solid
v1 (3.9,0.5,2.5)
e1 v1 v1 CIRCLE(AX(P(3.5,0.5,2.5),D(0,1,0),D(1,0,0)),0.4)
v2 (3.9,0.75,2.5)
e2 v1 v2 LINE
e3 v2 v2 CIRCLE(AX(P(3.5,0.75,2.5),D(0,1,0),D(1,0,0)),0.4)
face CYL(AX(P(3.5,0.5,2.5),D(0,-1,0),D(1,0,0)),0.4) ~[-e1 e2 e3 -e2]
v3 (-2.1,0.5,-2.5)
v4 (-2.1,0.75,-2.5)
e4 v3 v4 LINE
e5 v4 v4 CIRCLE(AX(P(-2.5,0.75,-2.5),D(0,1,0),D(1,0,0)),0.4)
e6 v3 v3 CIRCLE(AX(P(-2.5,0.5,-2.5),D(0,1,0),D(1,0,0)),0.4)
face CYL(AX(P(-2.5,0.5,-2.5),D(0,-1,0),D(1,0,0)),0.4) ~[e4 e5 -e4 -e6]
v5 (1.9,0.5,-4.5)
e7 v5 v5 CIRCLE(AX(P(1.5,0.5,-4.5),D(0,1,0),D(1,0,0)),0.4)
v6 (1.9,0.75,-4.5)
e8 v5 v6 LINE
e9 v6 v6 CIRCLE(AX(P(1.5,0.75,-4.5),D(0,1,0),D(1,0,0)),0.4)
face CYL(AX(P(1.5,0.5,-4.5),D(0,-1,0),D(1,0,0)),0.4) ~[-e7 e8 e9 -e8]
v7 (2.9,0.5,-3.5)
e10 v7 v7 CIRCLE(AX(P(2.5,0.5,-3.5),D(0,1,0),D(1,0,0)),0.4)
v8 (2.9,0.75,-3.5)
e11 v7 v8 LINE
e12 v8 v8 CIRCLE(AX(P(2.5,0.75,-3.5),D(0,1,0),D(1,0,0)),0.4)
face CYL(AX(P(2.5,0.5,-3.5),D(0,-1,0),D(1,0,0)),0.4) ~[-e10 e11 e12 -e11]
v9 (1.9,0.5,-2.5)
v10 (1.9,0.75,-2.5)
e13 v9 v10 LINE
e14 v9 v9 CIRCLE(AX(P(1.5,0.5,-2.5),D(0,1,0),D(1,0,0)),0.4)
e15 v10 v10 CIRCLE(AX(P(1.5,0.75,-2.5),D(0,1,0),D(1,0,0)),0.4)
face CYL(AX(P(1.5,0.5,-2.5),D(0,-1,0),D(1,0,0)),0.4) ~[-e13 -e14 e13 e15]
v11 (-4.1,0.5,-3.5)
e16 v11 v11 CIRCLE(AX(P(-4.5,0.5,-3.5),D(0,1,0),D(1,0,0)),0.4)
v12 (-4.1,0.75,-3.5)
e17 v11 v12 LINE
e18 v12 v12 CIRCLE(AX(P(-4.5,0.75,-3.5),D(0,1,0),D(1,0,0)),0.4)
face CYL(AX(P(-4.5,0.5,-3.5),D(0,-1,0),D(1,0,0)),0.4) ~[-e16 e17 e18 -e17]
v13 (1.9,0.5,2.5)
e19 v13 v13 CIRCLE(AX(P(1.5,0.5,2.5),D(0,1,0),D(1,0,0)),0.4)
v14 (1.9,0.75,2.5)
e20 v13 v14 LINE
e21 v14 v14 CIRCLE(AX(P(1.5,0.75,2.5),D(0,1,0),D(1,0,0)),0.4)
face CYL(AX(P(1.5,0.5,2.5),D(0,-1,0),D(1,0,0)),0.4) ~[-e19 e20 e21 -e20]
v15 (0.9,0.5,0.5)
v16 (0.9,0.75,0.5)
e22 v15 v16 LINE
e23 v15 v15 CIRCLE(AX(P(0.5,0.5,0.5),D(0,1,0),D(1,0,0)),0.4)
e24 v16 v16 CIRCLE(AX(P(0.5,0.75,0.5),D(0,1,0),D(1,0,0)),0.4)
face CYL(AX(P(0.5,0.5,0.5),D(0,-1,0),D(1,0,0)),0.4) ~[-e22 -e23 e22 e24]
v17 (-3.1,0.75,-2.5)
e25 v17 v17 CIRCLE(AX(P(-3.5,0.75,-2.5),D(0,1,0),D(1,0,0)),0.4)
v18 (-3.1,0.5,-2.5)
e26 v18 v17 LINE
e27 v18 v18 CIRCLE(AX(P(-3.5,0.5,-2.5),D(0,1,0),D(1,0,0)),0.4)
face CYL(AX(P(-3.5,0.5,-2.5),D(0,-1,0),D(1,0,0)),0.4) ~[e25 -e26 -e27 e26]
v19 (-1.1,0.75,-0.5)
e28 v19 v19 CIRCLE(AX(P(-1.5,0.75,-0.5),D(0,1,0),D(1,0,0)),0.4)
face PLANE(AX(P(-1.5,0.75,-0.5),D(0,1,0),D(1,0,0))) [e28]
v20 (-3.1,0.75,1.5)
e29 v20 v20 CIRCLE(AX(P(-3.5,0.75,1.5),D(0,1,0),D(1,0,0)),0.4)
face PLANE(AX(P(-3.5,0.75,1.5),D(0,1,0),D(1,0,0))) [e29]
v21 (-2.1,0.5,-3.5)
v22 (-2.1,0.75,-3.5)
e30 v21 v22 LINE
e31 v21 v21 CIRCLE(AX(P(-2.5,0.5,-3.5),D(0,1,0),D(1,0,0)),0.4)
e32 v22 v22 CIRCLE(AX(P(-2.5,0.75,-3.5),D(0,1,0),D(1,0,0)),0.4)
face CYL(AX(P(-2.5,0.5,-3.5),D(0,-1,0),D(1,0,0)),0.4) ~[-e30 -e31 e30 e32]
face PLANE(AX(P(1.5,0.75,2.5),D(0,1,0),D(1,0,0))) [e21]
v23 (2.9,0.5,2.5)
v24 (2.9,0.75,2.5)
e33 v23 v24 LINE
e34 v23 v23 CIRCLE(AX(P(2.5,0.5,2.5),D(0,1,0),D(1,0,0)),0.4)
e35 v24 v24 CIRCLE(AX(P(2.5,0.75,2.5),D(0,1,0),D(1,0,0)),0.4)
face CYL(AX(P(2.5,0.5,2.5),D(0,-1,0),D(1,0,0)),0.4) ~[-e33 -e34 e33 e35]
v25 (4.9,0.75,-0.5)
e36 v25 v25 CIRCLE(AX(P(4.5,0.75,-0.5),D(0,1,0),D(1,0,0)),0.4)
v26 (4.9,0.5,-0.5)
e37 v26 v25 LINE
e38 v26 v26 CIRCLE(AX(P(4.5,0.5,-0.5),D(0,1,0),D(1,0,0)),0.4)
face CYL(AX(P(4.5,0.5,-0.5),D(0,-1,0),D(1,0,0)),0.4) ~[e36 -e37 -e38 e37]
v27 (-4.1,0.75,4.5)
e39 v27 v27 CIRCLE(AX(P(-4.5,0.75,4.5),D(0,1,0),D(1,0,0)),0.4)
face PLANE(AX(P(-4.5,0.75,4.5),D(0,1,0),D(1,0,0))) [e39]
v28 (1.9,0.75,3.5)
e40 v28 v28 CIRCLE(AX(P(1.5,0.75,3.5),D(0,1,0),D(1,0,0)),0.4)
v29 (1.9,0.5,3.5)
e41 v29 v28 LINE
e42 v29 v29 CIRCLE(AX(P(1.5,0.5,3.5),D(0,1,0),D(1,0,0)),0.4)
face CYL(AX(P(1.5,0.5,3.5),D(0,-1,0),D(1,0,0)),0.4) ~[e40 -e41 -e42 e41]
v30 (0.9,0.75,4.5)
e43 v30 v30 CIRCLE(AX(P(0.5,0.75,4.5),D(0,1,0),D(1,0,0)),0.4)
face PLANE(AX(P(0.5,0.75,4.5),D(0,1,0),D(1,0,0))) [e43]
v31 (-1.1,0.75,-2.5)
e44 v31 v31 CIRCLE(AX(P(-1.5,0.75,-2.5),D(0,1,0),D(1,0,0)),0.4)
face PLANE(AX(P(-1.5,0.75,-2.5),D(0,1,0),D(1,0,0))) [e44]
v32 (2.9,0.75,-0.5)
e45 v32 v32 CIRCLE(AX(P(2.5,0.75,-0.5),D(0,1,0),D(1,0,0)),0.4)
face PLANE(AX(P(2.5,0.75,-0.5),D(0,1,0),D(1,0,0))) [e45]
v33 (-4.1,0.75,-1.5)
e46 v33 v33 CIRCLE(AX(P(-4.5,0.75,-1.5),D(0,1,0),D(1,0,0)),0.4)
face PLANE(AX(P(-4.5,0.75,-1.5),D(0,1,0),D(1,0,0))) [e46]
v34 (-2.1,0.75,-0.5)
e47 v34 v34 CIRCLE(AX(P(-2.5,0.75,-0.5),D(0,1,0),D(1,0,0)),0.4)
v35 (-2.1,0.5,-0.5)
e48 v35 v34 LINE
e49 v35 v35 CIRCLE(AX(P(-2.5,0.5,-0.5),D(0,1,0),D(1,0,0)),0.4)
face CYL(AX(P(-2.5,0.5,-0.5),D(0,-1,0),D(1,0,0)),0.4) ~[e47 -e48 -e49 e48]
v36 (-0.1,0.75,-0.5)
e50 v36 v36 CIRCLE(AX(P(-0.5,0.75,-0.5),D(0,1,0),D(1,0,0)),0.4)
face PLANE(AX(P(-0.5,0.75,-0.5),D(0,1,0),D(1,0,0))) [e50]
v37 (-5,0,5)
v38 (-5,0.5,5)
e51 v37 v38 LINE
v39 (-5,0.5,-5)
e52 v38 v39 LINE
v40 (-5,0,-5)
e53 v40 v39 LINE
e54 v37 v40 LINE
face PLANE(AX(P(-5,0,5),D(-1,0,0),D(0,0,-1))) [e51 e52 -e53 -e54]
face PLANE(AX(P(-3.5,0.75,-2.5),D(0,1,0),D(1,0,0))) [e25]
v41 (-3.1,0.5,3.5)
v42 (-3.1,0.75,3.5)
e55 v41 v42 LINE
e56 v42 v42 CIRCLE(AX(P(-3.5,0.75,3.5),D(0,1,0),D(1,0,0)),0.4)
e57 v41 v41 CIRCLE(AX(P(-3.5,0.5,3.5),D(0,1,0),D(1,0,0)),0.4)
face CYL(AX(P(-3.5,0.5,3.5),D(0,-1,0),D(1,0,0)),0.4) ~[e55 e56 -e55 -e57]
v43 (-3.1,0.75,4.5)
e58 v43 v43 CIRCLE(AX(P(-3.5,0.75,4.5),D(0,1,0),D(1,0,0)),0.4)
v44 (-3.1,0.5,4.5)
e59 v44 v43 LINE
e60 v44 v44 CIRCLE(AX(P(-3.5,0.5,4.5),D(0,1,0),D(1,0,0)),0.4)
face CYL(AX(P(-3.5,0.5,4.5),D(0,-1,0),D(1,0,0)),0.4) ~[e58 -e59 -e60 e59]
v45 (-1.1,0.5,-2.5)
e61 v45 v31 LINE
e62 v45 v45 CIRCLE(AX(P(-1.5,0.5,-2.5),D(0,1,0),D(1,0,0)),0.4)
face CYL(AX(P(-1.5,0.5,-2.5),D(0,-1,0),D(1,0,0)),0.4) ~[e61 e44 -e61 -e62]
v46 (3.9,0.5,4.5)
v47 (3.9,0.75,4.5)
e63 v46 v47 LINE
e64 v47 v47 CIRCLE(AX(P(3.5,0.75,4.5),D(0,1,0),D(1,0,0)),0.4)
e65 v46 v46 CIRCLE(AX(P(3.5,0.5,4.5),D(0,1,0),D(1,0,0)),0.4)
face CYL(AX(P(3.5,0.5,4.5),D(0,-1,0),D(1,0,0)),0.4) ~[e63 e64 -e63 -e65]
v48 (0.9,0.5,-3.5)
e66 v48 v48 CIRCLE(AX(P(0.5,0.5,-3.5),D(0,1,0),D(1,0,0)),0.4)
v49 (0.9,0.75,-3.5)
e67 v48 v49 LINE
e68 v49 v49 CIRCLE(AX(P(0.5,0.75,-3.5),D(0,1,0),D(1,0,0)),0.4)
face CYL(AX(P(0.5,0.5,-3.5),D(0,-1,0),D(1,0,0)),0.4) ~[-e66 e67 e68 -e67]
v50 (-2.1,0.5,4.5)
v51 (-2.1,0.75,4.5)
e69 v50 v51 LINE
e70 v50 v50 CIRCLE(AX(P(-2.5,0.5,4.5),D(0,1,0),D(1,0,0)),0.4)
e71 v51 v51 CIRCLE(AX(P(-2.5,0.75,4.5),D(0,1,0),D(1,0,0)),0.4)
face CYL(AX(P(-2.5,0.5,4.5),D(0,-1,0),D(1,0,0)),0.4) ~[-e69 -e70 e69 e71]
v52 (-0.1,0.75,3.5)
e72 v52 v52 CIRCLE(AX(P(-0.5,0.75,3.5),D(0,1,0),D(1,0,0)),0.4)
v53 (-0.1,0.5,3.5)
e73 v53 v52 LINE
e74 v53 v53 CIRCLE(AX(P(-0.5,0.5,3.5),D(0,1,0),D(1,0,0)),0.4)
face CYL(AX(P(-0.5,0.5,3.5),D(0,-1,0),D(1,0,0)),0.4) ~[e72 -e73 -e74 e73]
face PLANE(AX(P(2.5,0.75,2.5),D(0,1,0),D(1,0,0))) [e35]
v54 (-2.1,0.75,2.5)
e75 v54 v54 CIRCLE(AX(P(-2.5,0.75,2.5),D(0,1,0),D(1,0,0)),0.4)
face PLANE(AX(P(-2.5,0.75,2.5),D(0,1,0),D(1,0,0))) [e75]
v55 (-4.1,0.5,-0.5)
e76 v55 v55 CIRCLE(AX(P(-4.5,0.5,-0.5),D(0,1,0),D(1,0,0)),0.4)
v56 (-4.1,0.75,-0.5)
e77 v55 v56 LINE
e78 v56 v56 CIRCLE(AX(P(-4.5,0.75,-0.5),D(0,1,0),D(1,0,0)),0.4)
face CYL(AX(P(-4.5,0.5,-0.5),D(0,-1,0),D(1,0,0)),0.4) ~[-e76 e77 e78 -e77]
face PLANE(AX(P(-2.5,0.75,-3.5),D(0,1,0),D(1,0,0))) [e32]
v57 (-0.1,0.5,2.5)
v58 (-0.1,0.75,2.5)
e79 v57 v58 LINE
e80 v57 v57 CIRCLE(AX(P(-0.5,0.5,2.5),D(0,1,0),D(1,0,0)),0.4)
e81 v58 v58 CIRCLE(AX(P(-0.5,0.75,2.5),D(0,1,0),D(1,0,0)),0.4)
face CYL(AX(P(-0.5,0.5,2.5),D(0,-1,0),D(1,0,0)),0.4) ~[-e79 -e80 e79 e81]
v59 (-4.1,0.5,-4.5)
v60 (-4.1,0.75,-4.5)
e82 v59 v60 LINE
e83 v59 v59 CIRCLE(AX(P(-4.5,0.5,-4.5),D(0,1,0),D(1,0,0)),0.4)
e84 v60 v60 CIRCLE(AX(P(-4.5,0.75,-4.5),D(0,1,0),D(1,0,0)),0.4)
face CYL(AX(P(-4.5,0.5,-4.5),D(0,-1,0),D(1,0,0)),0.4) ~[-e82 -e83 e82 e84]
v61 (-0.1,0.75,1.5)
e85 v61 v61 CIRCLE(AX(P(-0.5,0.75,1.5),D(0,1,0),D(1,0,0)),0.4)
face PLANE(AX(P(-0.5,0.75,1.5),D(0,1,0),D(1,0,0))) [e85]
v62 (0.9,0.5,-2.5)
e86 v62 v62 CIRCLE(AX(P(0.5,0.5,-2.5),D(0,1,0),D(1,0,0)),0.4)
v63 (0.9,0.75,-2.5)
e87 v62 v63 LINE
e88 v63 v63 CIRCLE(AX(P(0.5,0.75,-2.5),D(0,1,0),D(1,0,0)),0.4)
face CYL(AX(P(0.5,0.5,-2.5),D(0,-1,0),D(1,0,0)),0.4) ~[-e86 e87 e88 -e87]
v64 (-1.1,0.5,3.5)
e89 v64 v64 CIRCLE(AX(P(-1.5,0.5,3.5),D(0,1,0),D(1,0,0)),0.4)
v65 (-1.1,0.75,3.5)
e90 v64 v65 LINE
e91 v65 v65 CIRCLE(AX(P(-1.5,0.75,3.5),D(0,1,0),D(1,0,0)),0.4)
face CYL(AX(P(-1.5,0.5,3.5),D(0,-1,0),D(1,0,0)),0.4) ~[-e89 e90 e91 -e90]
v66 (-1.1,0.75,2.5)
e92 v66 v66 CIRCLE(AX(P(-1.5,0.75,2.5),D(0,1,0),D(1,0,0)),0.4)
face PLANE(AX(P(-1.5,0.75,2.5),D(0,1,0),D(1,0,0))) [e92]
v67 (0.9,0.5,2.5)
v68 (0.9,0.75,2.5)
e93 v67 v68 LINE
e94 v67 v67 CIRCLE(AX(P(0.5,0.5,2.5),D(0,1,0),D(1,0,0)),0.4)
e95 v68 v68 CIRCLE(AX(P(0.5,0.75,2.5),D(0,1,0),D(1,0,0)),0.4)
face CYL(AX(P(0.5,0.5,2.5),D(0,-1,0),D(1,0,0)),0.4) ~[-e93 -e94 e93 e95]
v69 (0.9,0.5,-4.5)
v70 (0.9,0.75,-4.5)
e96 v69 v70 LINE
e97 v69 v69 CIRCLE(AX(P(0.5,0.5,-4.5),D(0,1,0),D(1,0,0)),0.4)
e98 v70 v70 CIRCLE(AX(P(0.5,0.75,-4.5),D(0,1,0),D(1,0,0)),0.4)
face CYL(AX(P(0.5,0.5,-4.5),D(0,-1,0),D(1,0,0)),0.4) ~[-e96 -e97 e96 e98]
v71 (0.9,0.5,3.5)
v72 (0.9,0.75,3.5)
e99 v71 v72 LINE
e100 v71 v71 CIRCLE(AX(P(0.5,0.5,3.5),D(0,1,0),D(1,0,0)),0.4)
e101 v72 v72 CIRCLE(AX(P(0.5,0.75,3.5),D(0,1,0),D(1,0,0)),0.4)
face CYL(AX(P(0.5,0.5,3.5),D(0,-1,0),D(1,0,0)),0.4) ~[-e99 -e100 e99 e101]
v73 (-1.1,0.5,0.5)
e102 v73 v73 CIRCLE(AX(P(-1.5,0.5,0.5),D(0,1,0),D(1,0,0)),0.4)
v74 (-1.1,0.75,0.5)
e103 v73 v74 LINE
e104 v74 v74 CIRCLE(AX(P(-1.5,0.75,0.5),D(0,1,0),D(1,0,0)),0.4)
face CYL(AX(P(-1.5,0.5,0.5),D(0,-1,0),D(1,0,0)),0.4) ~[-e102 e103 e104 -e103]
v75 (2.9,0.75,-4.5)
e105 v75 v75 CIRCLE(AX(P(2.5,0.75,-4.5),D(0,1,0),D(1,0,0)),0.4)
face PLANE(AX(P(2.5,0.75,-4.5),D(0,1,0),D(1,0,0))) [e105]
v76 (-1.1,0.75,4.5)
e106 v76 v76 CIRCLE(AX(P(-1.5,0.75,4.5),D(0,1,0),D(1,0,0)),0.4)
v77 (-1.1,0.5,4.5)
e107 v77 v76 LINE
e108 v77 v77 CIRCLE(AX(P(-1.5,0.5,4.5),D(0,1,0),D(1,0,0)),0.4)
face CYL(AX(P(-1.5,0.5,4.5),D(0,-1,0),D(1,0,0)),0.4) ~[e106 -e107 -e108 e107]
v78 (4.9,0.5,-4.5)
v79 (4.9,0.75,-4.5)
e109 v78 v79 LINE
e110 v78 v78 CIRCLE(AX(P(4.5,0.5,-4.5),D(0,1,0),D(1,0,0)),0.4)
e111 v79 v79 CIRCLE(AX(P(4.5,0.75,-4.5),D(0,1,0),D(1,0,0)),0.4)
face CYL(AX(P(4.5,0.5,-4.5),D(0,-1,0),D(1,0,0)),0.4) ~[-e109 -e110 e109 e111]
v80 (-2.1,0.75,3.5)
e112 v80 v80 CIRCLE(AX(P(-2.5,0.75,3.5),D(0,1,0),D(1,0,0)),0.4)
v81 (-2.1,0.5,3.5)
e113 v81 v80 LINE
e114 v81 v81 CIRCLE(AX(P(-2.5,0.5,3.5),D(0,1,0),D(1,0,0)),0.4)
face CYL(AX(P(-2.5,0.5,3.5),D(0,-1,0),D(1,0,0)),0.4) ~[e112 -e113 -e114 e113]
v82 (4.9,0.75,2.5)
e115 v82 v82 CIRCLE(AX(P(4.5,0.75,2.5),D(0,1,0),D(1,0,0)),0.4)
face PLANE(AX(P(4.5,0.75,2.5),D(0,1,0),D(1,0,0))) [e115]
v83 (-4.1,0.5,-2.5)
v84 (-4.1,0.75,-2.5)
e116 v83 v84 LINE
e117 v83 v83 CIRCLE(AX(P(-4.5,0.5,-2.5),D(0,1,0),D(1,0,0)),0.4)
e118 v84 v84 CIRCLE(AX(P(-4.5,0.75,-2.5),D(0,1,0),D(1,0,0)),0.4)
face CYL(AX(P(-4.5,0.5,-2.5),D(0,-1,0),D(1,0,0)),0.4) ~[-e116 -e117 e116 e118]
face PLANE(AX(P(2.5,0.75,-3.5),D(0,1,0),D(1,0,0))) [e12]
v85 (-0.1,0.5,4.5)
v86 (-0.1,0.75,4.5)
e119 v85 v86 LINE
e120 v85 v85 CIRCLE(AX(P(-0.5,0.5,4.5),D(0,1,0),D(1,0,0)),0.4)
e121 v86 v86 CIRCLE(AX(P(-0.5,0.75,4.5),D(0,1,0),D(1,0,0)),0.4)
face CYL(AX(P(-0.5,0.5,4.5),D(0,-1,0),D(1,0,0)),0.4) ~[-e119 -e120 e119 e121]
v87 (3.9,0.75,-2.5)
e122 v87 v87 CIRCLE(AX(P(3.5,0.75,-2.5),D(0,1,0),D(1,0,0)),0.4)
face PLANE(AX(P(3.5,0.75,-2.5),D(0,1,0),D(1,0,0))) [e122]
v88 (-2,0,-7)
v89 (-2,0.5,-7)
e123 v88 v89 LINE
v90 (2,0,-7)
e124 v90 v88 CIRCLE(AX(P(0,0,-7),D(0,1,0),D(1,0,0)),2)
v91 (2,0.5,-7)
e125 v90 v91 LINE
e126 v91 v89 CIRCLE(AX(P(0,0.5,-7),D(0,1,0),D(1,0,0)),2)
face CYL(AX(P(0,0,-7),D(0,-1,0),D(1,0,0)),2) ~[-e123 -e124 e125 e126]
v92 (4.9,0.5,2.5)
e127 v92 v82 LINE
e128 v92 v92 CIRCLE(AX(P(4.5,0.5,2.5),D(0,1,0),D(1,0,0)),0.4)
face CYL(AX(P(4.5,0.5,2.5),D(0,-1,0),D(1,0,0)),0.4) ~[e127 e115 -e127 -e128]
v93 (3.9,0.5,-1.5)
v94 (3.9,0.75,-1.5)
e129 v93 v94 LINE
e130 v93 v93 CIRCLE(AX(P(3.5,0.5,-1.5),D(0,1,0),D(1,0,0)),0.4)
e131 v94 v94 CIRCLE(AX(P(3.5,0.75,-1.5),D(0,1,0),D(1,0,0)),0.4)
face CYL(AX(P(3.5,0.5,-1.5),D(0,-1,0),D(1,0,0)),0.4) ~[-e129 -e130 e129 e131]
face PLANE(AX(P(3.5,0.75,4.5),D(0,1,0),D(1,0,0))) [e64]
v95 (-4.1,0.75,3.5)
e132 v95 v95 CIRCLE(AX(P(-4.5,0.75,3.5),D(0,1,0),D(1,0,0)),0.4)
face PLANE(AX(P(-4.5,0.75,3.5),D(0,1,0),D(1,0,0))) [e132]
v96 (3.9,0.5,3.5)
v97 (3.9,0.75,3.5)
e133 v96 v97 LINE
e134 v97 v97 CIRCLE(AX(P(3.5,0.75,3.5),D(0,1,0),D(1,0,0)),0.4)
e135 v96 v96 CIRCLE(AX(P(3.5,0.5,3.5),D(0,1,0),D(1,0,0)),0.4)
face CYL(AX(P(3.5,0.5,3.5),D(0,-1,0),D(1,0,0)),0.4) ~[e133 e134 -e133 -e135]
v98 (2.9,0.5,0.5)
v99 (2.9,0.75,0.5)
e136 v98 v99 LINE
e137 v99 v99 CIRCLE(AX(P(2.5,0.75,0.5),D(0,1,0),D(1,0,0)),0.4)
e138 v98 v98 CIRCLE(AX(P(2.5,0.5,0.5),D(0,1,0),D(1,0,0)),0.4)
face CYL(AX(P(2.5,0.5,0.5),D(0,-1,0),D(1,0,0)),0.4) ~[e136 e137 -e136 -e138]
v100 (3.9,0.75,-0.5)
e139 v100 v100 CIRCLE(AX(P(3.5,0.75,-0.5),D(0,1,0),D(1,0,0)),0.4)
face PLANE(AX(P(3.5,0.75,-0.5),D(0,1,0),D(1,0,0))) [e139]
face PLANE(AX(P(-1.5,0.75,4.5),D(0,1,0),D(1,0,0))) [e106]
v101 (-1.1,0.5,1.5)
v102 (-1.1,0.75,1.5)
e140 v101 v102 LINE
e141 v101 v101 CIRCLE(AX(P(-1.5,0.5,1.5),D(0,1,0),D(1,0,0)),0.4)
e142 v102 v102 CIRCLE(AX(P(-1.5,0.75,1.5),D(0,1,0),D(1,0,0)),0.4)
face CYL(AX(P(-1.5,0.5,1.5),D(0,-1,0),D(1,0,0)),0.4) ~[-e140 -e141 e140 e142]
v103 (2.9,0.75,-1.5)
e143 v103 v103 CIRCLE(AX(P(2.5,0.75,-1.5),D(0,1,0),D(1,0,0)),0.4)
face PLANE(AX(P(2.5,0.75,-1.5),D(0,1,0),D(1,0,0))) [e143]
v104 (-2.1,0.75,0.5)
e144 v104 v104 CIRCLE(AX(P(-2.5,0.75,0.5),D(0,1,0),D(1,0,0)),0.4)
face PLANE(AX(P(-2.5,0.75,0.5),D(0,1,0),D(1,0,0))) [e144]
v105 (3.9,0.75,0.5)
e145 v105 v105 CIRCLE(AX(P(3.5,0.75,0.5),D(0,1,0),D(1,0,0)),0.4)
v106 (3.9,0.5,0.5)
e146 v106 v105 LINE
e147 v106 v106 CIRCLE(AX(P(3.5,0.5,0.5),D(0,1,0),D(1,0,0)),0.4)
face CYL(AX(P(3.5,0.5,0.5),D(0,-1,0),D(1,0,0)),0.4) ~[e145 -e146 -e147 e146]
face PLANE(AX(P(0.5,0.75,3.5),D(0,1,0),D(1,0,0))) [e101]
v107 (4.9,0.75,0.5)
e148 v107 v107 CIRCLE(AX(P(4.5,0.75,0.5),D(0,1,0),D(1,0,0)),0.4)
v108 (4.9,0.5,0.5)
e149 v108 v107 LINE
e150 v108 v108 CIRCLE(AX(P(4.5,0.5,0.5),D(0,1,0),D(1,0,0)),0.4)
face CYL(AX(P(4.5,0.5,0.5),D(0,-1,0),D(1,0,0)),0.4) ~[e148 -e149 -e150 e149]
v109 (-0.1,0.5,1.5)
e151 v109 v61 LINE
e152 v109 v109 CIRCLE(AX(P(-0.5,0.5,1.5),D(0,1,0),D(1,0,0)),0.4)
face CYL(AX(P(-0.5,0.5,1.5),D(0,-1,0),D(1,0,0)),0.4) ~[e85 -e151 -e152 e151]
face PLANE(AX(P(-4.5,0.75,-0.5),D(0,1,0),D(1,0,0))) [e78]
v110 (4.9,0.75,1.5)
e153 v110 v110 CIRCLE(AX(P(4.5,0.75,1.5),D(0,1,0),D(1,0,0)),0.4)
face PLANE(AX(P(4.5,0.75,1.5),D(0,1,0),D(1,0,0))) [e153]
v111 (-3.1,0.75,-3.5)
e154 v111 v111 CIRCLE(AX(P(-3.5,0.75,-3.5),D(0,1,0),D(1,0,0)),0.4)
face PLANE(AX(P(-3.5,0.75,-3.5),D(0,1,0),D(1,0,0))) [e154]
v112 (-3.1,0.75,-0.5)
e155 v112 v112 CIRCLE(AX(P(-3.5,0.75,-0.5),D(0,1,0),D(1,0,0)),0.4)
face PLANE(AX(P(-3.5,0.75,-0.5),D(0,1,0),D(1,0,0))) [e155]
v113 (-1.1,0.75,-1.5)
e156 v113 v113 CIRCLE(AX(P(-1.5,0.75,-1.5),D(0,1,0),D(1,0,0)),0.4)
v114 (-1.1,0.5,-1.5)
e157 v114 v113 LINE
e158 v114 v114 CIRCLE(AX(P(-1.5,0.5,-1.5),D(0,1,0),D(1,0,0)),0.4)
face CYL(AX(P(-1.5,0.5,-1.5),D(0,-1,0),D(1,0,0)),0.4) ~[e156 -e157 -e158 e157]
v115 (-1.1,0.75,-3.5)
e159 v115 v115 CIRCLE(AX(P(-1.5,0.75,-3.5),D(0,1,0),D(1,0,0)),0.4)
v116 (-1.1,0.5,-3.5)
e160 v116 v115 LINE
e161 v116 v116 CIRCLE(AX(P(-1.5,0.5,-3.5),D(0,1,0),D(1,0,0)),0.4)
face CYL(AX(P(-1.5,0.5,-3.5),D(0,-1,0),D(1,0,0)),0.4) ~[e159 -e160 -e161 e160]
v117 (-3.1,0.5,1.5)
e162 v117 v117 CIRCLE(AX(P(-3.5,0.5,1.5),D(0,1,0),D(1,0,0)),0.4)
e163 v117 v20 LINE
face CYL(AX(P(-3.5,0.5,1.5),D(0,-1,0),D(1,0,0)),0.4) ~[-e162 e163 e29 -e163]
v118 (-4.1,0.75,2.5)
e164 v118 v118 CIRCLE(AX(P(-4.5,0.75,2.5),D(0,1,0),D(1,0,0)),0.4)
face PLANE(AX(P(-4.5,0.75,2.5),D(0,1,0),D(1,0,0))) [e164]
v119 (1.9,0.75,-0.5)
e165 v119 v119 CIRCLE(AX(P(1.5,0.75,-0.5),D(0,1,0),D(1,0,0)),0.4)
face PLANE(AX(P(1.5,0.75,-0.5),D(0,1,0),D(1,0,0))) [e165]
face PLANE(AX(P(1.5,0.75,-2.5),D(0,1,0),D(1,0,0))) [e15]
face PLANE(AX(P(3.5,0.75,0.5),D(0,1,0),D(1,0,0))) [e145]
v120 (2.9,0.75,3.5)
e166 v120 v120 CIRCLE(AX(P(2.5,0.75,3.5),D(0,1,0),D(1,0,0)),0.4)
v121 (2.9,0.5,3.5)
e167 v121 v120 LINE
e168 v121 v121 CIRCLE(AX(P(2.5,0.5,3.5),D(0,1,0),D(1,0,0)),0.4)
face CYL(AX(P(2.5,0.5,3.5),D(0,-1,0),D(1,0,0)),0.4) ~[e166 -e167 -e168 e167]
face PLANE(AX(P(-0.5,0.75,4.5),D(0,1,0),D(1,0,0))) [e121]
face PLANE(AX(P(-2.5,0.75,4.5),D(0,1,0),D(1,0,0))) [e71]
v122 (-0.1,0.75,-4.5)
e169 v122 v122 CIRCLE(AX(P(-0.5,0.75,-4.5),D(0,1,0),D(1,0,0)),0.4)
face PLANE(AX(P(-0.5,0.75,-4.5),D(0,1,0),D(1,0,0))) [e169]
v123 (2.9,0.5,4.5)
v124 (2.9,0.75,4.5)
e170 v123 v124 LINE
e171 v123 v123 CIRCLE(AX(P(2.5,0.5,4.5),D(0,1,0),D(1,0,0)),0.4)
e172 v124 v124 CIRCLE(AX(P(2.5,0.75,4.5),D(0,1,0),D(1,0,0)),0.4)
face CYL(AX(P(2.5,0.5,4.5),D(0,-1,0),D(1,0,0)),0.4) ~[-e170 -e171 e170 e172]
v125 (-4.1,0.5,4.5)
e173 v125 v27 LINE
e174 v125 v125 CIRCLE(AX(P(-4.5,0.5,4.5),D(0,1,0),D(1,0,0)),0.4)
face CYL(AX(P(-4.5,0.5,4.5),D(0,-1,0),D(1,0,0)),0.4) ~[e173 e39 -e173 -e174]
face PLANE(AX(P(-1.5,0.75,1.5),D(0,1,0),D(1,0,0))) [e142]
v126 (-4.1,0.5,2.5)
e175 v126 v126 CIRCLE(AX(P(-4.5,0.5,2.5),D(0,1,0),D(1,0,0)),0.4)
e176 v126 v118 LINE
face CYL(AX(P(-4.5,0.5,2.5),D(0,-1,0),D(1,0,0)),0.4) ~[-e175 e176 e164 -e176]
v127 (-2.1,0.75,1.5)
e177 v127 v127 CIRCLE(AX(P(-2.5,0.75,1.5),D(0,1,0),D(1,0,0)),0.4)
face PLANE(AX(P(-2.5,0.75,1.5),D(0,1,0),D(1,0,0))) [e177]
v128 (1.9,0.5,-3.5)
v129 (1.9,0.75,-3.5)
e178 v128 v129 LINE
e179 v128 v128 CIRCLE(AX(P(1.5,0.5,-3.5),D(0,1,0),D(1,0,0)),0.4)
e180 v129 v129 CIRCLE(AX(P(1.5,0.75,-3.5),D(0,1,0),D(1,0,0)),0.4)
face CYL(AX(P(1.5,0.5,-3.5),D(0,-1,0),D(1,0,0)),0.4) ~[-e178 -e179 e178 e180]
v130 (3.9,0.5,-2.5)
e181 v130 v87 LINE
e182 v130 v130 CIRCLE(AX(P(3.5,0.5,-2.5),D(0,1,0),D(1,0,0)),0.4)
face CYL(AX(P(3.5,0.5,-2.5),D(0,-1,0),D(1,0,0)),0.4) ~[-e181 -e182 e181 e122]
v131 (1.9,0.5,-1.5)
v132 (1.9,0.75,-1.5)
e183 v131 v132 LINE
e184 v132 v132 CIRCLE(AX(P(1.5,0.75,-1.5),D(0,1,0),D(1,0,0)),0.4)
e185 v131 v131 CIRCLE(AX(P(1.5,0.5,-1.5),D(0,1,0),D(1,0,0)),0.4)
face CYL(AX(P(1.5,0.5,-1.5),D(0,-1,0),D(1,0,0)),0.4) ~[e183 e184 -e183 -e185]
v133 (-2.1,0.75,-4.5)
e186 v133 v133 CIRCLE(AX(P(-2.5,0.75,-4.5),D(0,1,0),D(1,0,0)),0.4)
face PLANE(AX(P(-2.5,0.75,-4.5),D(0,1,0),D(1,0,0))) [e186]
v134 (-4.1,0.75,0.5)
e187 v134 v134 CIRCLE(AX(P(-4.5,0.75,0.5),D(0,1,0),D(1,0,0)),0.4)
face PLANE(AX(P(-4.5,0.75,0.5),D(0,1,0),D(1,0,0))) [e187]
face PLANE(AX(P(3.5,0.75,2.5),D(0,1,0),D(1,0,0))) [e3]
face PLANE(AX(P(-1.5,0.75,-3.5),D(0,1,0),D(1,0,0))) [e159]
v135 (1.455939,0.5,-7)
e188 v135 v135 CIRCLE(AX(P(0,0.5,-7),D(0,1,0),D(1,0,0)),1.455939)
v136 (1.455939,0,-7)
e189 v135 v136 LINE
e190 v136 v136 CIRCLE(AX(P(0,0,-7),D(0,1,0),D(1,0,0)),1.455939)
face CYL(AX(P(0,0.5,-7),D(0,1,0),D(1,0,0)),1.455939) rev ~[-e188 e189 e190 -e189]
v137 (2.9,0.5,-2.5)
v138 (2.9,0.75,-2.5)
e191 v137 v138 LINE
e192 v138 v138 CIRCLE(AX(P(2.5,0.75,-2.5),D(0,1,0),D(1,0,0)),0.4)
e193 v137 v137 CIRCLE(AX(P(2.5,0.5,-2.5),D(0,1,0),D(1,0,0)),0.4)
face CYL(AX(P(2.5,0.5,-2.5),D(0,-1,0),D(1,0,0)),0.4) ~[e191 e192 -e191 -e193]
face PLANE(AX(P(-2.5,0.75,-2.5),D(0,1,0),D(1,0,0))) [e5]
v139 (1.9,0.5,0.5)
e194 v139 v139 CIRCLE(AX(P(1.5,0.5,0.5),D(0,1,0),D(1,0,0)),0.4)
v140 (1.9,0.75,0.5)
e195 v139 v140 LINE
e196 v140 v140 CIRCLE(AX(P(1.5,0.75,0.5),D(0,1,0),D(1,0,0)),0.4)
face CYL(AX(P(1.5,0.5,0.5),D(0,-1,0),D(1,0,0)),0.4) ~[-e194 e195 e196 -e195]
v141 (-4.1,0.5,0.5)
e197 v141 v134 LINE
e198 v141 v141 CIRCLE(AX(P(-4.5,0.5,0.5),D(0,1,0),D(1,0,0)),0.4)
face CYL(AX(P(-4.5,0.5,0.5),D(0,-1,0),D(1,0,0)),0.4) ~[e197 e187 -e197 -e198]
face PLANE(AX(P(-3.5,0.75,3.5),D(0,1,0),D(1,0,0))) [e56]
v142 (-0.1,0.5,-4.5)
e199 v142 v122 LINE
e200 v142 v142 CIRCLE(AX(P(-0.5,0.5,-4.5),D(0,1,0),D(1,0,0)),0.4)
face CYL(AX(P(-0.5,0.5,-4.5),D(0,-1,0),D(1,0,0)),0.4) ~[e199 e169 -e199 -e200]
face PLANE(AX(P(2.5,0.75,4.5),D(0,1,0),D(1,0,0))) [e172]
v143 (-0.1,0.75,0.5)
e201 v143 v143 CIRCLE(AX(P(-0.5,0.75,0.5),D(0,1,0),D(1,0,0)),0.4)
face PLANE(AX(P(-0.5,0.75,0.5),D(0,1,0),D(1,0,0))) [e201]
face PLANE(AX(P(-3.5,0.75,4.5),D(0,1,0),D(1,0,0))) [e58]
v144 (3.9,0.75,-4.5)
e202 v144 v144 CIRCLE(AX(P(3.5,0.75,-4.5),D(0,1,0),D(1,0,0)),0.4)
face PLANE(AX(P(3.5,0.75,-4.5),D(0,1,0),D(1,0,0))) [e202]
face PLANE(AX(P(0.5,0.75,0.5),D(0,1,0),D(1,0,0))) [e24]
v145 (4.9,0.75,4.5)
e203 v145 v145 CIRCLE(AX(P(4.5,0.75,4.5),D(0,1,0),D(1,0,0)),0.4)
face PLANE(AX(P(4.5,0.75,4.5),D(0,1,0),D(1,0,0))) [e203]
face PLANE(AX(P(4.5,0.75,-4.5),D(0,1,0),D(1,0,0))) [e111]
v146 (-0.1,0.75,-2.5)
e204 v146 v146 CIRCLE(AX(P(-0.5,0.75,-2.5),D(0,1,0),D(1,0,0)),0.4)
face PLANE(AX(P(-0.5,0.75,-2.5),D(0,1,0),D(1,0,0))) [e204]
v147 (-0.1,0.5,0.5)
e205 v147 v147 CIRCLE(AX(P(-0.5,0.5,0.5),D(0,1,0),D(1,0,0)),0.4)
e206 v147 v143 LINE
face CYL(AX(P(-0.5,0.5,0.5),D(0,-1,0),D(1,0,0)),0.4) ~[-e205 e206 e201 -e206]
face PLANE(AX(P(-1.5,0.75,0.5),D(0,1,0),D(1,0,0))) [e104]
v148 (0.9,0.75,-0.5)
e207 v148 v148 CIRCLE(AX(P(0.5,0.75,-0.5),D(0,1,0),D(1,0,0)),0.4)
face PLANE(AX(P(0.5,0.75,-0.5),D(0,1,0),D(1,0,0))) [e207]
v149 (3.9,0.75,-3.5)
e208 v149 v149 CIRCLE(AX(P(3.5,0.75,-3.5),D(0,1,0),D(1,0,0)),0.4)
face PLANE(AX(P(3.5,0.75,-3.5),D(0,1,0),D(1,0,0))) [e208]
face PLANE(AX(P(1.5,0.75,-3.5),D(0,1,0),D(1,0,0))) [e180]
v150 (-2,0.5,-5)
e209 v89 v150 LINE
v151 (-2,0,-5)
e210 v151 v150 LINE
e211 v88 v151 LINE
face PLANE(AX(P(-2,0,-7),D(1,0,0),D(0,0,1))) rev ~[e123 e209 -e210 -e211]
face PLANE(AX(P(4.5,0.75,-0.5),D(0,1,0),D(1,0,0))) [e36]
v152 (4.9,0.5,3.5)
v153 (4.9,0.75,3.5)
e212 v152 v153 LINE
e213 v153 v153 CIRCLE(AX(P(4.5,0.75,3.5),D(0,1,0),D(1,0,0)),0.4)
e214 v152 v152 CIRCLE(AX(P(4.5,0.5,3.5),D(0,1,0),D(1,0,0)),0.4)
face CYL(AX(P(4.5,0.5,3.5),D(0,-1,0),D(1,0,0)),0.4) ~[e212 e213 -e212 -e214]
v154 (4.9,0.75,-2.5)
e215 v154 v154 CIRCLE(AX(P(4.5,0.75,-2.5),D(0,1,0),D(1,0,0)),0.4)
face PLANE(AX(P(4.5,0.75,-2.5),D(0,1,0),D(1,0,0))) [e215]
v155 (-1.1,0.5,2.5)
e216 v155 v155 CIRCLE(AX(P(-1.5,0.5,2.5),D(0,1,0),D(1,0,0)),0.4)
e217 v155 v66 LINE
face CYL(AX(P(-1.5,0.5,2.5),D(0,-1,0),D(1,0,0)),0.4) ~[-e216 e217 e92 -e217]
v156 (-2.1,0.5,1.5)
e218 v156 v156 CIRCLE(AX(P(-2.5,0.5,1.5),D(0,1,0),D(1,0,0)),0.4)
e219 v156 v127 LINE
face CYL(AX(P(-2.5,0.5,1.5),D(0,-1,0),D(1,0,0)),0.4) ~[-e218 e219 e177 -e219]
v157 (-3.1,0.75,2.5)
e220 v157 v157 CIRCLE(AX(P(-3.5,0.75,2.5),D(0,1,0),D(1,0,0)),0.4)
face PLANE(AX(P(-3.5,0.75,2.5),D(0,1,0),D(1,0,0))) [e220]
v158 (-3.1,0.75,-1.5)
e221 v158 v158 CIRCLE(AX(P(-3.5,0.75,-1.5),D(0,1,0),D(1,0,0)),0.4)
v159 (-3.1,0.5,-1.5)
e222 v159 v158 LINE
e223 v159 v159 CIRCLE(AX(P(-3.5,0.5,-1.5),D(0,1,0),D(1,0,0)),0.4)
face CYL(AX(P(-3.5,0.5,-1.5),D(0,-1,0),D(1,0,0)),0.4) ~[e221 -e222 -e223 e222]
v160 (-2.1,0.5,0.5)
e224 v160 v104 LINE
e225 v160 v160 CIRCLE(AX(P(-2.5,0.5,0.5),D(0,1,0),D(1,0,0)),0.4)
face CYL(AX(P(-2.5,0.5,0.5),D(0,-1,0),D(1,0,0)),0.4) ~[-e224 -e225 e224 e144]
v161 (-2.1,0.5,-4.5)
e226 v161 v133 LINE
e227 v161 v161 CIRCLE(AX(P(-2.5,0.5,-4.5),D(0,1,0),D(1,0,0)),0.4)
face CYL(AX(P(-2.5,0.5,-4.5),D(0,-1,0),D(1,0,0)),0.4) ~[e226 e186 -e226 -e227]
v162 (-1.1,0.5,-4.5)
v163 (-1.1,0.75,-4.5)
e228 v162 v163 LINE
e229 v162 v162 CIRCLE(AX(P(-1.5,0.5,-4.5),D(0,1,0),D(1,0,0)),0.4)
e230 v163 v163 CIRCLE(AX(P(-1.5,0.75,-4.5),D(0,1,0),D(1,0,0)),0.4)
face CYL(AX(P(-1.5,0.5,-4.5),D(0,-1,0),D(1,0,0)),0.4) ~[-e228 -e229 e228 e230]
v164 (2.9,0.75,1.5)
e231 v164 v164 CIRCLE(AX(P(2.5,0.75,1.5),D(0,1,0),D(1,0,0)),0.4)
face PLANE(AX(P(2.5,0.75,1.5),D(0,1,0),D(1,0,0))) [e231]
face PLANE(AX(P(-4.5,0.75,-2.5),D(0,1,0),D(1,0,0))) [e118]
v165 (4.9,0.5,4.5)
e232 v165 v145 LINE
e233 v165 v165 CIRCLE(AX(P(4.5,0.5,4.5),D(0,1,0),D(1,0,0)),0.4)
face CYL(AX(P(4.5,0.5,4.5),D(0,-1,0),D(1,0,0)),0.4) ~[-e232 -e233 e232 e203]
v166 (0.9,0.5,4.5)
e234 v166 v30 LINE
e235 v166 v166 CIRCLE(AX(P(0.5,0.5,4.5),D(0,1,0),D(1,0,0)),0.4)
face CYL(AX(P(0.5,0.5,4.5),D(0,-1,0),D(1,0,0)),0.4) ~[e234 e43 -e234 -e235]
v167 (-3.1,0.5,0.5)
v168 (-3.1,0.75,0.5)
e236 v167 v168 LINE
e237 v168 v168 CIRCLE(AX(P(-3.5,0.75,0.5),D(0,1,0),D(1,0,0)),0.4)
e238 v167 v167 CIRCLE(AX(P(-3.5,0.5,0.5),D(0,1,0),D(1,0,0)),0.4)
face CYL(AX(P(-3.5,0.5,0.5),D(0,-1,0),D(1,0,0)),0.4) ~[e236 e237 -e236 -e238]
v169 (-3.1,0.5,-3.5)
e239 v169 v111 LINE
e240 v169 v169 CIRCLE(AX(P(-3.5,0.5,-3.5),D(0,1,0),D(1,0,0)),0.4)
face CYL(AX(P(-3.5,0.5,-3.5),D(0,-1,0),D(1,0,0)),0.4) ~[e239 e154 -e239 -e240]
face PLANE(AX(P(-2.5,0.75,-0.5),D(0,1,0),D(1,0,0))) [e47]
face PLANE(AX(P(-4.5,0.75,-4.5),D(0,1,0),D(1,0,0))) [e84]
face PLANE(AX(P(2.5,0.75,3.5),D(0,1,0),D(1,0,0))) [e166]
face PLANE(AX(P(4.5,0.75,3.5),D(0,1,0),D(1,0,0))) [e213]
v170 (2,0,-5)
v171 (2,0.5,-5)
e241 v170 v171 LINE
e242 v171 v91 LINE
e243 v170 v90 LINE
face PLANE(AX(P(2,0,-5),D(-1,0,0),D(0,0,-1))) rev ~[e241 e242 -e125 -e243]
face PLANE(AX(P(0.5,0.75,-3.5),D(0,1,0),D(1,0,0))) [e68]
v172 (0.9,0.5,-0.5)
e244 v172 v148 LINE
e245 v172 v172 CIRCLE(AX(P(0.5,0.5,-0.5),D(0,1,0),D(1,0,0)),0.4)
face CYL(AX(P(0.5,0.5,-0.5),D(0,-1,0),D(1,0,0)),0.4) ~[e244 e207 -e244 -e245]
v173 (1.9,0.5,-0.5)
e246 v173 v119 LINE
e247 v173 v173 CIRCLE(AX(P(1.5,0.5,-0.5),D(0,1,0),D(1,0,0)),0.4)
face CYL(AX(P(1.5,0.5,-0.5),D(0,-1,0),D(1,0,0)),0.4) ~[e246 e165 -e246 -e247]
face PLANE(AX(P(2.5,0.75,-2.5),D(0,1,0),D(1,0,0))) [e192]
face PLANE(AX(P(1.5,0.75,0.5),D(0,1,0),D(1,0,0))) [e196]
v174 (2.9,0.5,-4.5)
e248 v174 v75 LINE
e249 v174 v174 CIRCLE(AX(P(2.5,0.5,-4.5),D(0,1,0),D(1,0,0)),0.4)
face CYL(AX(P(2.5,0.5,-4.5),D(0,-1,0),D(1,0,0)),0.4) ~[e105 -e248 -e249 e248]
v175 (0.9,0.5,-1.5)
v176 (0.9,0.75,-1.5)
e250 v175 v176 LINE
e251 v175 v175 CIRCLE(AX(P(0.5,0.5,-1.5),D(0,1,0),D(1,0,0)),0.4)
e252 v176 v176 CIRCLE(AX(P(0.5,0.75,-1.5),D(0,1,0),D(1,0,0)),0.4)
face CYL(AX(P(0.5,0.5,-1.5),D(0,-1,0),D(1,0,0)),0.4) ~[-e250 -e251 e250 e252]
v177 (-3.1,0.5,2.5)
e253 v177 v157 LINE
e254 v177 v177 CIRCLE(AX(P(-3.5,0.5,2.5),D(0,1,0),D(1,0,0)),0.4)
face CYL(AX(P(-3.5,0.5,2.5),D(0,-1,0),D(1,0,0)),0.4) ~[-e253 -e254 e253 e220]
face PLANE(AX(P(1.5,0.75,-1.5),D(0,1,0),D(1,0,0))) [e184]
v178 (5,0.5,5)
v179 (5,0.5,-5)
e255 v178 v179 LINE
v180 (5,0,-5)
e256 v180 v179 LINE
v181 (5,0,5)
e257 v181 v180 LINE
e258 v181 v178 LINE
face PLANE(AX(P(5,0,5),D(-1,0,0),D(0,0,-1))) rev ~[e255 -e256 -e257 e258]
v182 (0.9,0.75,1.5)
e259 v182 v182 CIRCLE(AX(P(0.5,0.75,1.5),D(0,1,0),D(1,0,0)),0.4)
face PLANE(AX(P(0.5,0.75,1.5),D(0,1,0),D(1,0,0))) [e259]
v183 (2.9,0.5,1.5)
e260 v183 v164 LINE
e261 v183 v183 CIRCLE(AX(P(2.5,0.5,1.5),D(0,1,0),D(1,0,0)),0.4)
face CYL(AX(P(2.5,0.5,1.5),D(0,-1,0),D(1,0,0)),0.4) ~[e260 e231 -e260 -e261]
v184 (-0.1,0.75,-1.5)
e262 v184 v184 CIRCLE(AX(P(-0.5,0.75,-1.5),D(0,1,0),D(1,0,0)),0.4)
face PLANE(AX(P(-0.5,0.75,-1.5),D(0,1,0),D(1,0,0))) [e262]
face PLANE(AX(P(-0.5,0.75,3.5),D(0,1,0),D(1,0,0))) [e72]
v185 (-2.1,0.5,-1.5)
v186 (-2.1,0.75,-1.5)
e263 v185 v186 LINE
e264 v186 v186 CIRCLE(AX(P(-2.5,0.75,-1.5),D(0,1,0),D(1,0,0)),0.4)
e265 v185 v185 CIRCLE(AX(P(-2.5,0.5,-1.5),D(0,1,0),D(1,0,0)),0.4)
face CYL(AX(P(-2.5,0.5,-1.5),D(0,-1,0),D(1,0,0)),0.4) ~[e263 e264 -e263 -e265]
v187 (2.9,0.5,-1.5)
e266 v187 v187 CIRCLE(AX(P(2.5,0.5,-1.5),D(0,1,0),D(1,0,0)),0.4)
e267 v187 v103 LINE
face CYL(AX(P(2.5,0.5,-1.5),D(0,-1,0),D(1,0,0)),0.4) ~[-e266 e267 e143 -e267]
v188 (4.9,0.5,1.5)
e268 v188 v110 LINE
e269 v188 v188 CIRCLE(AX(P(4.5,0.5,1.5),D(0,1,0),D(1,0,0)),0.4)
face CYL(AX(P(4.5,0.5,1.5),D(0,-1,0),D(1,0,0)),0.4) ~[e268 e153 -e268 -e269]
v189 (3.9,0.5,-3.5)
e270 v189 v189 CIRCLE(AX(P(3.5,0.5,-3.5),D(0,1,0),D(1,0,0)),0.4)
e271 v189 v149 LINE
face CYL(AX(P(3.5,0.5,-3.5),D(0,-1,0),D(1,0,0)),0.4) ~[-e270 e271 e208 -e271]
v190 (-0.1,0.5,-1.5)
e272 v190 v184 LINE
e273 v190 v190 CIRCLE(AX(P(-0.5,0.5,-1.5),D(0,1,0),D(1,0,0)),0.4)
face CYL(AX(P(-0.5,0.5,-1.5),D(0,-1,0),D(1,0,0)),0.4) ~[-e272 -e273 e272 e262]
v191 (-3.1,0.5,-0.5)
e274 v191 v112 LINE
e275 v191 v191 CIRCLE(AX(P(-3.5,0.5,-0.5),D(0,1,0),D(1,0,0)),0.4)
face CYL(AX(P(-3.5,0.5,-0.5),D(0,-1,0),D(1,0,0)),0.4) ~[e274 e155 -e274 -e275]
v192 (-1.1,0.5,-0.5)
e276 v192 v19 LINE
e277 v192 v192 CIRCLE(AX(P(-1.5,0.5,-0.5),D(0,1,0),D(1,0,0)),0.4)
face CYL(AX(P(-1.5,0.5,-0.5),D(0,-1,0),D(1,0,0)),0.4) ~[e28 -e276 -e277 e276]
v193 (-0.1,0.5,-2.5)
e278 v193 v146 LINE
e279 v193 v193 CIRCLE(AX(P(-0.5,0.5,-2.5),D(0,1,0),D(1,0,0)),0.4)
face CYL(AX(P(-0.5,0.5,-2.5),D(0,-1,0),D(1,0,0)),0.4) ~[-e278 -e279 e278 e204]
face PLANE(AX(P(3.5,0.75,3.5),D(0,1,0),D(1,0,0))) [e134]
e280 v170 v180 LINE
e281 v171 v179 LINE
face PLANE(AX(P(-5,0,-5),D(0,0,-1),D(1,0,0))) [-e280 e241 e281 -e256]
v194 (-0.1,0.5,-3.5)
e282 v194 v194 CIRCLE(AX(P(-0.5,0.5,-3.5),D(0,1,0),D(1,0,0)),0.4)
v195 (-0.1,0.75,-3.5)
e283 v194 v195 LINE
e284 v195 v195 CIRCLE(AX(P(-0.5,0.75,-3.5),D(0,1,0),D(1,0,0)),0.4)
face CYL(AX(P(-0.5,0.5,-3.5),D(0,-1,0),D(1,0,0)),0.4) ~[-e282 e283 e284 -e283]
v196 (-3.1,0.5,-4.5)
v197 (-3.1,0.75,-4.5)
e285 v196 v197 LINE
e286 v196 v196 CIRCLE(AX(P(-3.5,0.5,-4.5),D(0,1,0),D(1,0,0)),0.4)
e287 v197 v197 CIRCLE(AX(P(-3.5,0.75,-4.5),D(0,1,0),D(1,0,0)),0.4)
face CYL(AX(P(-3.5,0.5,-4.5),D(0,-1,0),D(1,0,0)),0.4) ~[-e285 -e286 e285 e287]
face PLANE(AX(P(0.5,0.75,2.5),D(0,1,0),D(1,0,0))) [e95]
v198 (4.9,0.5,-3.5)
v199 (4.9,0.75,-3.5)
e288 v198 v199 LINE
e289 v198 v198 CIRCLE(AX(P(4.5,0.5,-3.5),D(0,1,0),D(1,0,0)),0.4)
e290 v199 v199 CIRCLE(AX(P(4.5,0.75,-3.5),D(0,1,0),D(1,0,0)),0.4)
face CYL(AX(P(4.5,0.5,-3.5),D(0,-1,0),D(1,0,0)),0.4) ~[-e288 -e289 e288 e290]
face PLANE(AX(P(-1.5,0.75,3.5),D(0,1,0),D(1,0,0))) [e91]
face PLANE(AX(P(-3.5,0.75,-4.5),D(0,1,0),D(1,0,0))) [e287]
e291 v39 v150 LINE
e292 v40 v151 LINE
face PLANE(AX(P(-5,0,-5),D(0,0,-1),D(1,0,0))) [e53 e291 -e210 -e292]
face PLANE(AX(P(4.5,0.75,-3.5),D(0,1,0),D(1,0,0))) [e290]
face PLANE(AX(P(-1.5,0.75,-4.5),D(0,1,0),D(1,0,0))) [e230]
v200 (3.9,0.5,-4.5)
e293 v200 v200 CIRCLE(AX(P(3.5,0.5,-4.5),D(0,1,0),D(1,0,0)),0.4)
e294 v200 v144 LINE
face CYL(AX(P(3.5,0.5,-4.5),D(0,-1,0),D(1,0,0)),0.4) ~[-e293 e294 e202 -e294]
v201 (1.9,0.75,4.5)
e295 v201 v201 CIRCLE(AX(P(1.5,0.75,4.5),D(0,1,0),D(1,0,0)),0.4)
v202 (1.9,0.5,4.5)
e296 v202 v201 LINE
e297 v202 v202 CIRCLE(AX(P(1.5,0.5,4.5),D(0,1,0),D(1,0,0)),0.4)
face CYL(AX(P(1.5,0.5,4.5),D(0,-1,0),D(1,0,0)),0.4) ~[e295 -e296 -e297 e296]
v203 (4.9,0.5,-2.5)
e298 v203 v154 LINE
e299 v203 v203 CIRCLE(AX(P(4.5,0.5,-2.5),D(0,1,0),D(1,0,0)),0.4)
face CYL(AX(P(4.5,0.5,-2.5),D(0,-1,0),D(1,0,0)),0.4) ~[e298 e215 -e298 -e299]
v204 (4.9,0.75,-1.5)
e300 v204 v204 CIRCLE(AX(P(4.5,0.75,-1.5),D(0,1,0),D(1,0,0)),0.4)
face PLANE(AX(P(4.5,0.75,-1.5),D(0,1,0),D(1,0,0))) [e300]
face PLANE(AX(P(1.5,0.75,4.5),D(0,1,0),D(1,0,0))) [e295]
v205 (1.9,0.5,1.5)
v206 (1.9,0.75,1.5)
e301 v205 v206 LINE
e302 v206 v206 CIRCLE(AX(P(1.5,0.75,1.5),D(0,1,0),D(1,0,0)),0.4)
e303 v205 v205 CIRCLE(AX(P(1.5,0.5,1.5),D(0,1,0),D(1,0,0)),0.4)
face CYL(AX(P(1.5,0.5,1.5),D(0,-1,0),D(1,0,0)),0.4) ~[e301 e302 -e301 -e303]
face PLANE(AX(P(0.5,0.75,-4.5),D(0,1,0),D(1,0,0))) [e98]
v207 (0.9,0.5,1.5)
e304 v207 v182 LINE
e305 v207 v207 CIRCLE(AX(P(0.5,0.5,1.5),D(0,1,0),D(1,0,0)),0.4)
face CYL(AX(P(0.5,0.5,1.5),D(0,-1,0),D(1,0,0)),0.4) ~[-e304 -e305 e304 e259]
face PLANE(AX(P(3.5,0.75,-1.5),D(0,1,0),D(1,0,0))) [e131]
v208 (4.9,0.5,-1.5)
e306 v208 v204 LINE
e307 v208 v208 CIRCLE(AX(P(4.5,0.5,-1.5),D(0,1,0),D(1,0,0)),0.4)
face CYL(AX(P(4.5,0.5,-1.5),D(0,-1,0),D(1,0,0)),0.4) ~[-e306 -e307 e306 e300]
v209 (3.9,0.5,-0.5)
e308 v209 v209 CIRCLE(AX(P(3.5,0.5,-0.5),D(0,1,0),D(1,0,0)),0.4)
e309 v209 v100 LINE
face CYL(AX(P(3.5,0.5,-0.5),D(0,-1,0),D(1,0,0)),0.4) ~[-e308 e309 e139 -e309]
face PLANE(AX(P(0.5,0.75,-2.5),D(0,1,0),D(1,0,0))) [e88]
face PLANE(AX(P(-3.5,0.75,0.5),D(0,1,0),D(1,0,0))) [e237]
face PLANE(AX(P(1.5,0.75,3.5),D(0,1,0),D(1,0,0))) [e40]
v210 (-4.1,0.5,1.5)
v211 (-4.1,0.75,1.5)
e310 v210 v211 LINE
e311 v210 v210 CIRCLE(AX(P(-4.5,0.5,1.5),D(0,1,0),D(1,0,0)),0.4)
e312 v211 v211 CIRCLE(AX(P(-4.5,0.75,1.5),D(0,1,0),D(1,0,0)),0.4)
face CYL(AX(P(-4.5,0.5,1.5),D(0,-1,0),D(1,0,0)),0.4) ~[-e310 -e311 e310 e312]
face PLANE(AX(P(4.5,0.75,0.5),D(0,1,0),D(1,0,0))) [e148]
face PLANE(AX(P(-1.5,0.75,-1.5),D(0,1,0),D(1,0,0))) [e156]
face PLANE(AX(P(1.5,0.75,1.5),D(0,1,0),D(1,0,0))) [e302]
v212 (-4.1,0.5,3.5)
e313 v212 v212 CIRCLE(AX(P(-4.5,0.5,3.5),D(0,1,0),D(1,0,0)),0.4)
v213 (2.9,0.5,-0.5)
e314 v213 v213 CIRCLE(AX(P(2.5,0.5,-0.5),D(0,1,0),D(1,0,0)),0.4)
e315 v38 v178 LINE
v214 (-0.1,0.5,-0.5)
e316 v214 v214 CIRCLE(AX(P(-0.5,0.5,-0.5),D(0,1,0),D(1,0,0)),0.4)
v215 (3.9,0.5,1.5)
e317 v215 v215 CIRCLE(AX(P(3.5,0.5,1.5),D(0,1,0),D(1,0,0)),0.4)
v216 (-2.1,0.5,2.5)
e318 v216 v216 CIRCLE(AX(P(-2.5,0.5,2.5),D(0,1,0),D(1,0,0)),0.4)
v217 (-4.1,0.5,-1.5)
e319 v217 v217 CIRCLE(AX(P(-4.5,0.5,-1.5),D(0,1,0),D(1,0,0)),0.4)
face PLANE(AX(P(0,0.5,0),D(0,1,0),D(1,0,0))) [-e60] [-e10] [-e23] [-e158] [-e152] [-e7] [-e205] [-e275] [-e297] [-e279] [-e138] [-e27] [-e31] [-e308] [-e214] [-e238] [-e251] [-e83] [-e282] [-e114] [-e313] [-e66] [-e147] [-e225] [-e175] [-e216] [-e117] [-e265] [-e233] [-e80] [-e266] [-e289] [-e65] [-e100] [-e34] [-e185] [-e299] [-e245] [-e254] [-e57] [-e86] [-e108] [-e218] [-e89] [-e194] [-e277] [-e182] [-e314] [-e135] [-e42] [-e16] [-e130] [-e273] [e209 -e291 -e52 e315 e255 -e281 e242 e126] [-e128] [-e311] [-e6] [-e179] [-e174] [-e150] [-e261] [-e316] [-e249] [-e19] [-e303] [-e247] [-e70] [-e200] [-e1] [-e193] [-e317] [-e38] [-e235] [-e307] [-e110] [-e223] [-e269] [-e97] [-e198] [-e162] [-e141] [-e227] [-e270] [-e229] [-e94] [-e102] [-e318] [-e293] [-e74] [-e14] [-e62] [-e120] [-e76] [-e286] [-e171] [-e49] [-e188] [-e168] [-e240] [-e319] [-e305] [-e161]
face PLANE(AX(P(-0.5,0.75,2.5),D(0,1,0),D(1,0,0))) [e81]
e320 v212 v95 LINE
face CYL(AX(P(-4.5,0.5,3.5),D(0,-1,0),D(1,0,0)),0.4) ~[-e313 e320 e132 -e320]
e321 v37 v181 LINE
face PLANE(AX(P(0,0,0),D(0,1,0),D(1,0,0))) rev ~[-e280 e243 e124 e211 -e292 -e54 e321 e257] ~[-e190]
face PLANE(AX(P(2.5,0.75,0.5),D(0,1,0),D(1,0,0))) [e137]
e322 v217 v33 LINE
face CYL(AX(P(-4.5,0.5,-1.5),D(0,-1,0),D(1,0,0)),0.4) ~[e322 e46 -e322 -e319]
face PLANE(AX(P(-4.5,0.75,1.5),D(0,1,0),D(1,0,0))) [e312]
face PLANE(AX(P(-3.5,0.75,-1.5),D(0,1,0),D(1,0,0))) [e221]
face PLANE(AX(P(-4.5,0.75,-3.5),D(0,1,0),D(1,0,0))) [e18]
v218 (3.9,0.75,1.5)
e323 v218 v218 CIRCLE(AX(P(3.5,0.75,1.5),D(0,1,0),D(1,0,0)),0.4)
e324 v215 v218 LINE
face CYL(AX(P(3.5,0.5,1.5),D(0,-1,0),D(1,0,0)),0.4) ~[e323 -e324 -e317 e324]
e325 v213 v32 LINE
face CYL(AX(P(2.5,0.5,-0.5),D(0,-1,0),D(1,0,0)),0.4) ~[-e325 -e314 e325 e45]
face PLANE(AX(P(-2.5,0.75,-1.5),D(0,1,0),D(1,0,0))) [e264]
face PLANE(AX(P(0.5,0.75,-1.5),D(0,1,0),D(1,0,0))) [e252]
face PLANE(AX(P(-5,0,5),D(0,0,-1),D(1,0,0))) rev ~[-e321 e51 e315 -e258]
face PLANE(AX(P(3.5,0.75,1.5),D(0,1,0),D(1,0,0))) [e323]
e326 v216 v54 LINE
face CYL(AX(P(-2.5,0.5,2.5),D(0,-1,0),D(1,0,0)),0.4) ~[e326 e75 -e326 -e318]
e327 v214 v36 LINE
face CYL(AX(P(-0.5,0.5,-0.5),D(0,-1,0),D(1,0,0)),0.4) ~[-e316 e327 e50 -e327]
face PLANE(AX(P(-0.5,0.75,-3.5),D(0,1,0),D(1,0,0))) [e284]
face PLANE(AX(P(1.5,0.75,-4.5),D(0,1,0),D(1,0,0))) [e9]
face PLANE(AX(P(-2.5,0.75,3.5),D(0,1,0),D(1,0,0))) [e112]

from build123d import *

# Parameters (mm, degrees)
SKETCH1_W               = 10
SKETCH1_H               = 10
PLATE_DEPTH             = 0.5
SKETCH2_R               = 0.4
ROD_DEPTH               = 0.25
LPATTERN1_COUNT         = 10
LPATTERN1_PITCH         = 1
LPATTERN1_COUNT_DIR2    = 10
LPATTERN1_PITCH_DIR2    = 1
BOSS_EXTRUDE3_DEPTH     = 0.5
SKETCH5_R               = 1.455938962
CUT_EXTRUDE1_DEPTH      = 0.5
CUT_EXTRUDE1_DEPTH_BACK = 1.5


with BuildPart() as part:
    # Sketch1 → Plate (new body)
    with BuildSketch(Plane(origin=(0, 0, 0), x_dir=(1, 0, 0), z_dir=(0, 1, 0))):
        Rectangle(SKETCH1_W, SKETCH1_H)
    extrude(amount=PLATE_DEPTH)

    # Sketch2 → Rod (add)
    with BuildSketch(Plane(origin=(0, 0.5, 0), x_dir=(1, 0, 0), z_dir=(0, 1, 0))):
        with Locations((-4.5, -4.5)):
            Circle(SKETCH2_R)
    rod = extrude(amount=ROD_DEPTH)

    # LPattern1: Rod 10 × 10
    with Locations(*[(i * LPATTERN1_PITCH, 0, -j * LPATTERN1_PITCH_DIR2) for i in range(LPATTERN1_COUNT) for j in range(LPATTERN1_COUNT_DIR2) if (i, j) != (0, 0)]):
        add(rod)

    # Sketch4 → Boss-Extrude3 (add)
    with BuildSketch(Plane(origin=(0, 0, 0), x_dir=(1, 0, 0), z_dir=(0, 1, 0))):
        with BuildLine():
            Line((-2, 7), (-2, 5))
            Line((-2, 5), (2, 5))
            Line((2, 5), (2, 7))
            ThreePointArc((2, 7), (0, 9), (-2, 7))
        make_face()
    extrude(amount=BOSS_EXTRUDE3_DEPTH)

    # Sketch5 → Cut-Extrude1 (cut, two sides)
    with BuildSketch(Plane(origin=(0, 0.5, 0), x_dir=(1, 0, 0), z_dir=(0, 1, 0))) as cut_extrude1_sk:
        with Locations((0, 7)):
            Circle(SKETCH5_R)
    extrude(amount=CUT_EXTRUDE1_DEPTH, mode=Mode.SUBTRACT)
    extrude(cut_extrude1_sk.sketch, amount=-CUT_EXTRUDE1_DEPTH_BACK, mode=Mode.SUBTRACT)


solid = part.part
